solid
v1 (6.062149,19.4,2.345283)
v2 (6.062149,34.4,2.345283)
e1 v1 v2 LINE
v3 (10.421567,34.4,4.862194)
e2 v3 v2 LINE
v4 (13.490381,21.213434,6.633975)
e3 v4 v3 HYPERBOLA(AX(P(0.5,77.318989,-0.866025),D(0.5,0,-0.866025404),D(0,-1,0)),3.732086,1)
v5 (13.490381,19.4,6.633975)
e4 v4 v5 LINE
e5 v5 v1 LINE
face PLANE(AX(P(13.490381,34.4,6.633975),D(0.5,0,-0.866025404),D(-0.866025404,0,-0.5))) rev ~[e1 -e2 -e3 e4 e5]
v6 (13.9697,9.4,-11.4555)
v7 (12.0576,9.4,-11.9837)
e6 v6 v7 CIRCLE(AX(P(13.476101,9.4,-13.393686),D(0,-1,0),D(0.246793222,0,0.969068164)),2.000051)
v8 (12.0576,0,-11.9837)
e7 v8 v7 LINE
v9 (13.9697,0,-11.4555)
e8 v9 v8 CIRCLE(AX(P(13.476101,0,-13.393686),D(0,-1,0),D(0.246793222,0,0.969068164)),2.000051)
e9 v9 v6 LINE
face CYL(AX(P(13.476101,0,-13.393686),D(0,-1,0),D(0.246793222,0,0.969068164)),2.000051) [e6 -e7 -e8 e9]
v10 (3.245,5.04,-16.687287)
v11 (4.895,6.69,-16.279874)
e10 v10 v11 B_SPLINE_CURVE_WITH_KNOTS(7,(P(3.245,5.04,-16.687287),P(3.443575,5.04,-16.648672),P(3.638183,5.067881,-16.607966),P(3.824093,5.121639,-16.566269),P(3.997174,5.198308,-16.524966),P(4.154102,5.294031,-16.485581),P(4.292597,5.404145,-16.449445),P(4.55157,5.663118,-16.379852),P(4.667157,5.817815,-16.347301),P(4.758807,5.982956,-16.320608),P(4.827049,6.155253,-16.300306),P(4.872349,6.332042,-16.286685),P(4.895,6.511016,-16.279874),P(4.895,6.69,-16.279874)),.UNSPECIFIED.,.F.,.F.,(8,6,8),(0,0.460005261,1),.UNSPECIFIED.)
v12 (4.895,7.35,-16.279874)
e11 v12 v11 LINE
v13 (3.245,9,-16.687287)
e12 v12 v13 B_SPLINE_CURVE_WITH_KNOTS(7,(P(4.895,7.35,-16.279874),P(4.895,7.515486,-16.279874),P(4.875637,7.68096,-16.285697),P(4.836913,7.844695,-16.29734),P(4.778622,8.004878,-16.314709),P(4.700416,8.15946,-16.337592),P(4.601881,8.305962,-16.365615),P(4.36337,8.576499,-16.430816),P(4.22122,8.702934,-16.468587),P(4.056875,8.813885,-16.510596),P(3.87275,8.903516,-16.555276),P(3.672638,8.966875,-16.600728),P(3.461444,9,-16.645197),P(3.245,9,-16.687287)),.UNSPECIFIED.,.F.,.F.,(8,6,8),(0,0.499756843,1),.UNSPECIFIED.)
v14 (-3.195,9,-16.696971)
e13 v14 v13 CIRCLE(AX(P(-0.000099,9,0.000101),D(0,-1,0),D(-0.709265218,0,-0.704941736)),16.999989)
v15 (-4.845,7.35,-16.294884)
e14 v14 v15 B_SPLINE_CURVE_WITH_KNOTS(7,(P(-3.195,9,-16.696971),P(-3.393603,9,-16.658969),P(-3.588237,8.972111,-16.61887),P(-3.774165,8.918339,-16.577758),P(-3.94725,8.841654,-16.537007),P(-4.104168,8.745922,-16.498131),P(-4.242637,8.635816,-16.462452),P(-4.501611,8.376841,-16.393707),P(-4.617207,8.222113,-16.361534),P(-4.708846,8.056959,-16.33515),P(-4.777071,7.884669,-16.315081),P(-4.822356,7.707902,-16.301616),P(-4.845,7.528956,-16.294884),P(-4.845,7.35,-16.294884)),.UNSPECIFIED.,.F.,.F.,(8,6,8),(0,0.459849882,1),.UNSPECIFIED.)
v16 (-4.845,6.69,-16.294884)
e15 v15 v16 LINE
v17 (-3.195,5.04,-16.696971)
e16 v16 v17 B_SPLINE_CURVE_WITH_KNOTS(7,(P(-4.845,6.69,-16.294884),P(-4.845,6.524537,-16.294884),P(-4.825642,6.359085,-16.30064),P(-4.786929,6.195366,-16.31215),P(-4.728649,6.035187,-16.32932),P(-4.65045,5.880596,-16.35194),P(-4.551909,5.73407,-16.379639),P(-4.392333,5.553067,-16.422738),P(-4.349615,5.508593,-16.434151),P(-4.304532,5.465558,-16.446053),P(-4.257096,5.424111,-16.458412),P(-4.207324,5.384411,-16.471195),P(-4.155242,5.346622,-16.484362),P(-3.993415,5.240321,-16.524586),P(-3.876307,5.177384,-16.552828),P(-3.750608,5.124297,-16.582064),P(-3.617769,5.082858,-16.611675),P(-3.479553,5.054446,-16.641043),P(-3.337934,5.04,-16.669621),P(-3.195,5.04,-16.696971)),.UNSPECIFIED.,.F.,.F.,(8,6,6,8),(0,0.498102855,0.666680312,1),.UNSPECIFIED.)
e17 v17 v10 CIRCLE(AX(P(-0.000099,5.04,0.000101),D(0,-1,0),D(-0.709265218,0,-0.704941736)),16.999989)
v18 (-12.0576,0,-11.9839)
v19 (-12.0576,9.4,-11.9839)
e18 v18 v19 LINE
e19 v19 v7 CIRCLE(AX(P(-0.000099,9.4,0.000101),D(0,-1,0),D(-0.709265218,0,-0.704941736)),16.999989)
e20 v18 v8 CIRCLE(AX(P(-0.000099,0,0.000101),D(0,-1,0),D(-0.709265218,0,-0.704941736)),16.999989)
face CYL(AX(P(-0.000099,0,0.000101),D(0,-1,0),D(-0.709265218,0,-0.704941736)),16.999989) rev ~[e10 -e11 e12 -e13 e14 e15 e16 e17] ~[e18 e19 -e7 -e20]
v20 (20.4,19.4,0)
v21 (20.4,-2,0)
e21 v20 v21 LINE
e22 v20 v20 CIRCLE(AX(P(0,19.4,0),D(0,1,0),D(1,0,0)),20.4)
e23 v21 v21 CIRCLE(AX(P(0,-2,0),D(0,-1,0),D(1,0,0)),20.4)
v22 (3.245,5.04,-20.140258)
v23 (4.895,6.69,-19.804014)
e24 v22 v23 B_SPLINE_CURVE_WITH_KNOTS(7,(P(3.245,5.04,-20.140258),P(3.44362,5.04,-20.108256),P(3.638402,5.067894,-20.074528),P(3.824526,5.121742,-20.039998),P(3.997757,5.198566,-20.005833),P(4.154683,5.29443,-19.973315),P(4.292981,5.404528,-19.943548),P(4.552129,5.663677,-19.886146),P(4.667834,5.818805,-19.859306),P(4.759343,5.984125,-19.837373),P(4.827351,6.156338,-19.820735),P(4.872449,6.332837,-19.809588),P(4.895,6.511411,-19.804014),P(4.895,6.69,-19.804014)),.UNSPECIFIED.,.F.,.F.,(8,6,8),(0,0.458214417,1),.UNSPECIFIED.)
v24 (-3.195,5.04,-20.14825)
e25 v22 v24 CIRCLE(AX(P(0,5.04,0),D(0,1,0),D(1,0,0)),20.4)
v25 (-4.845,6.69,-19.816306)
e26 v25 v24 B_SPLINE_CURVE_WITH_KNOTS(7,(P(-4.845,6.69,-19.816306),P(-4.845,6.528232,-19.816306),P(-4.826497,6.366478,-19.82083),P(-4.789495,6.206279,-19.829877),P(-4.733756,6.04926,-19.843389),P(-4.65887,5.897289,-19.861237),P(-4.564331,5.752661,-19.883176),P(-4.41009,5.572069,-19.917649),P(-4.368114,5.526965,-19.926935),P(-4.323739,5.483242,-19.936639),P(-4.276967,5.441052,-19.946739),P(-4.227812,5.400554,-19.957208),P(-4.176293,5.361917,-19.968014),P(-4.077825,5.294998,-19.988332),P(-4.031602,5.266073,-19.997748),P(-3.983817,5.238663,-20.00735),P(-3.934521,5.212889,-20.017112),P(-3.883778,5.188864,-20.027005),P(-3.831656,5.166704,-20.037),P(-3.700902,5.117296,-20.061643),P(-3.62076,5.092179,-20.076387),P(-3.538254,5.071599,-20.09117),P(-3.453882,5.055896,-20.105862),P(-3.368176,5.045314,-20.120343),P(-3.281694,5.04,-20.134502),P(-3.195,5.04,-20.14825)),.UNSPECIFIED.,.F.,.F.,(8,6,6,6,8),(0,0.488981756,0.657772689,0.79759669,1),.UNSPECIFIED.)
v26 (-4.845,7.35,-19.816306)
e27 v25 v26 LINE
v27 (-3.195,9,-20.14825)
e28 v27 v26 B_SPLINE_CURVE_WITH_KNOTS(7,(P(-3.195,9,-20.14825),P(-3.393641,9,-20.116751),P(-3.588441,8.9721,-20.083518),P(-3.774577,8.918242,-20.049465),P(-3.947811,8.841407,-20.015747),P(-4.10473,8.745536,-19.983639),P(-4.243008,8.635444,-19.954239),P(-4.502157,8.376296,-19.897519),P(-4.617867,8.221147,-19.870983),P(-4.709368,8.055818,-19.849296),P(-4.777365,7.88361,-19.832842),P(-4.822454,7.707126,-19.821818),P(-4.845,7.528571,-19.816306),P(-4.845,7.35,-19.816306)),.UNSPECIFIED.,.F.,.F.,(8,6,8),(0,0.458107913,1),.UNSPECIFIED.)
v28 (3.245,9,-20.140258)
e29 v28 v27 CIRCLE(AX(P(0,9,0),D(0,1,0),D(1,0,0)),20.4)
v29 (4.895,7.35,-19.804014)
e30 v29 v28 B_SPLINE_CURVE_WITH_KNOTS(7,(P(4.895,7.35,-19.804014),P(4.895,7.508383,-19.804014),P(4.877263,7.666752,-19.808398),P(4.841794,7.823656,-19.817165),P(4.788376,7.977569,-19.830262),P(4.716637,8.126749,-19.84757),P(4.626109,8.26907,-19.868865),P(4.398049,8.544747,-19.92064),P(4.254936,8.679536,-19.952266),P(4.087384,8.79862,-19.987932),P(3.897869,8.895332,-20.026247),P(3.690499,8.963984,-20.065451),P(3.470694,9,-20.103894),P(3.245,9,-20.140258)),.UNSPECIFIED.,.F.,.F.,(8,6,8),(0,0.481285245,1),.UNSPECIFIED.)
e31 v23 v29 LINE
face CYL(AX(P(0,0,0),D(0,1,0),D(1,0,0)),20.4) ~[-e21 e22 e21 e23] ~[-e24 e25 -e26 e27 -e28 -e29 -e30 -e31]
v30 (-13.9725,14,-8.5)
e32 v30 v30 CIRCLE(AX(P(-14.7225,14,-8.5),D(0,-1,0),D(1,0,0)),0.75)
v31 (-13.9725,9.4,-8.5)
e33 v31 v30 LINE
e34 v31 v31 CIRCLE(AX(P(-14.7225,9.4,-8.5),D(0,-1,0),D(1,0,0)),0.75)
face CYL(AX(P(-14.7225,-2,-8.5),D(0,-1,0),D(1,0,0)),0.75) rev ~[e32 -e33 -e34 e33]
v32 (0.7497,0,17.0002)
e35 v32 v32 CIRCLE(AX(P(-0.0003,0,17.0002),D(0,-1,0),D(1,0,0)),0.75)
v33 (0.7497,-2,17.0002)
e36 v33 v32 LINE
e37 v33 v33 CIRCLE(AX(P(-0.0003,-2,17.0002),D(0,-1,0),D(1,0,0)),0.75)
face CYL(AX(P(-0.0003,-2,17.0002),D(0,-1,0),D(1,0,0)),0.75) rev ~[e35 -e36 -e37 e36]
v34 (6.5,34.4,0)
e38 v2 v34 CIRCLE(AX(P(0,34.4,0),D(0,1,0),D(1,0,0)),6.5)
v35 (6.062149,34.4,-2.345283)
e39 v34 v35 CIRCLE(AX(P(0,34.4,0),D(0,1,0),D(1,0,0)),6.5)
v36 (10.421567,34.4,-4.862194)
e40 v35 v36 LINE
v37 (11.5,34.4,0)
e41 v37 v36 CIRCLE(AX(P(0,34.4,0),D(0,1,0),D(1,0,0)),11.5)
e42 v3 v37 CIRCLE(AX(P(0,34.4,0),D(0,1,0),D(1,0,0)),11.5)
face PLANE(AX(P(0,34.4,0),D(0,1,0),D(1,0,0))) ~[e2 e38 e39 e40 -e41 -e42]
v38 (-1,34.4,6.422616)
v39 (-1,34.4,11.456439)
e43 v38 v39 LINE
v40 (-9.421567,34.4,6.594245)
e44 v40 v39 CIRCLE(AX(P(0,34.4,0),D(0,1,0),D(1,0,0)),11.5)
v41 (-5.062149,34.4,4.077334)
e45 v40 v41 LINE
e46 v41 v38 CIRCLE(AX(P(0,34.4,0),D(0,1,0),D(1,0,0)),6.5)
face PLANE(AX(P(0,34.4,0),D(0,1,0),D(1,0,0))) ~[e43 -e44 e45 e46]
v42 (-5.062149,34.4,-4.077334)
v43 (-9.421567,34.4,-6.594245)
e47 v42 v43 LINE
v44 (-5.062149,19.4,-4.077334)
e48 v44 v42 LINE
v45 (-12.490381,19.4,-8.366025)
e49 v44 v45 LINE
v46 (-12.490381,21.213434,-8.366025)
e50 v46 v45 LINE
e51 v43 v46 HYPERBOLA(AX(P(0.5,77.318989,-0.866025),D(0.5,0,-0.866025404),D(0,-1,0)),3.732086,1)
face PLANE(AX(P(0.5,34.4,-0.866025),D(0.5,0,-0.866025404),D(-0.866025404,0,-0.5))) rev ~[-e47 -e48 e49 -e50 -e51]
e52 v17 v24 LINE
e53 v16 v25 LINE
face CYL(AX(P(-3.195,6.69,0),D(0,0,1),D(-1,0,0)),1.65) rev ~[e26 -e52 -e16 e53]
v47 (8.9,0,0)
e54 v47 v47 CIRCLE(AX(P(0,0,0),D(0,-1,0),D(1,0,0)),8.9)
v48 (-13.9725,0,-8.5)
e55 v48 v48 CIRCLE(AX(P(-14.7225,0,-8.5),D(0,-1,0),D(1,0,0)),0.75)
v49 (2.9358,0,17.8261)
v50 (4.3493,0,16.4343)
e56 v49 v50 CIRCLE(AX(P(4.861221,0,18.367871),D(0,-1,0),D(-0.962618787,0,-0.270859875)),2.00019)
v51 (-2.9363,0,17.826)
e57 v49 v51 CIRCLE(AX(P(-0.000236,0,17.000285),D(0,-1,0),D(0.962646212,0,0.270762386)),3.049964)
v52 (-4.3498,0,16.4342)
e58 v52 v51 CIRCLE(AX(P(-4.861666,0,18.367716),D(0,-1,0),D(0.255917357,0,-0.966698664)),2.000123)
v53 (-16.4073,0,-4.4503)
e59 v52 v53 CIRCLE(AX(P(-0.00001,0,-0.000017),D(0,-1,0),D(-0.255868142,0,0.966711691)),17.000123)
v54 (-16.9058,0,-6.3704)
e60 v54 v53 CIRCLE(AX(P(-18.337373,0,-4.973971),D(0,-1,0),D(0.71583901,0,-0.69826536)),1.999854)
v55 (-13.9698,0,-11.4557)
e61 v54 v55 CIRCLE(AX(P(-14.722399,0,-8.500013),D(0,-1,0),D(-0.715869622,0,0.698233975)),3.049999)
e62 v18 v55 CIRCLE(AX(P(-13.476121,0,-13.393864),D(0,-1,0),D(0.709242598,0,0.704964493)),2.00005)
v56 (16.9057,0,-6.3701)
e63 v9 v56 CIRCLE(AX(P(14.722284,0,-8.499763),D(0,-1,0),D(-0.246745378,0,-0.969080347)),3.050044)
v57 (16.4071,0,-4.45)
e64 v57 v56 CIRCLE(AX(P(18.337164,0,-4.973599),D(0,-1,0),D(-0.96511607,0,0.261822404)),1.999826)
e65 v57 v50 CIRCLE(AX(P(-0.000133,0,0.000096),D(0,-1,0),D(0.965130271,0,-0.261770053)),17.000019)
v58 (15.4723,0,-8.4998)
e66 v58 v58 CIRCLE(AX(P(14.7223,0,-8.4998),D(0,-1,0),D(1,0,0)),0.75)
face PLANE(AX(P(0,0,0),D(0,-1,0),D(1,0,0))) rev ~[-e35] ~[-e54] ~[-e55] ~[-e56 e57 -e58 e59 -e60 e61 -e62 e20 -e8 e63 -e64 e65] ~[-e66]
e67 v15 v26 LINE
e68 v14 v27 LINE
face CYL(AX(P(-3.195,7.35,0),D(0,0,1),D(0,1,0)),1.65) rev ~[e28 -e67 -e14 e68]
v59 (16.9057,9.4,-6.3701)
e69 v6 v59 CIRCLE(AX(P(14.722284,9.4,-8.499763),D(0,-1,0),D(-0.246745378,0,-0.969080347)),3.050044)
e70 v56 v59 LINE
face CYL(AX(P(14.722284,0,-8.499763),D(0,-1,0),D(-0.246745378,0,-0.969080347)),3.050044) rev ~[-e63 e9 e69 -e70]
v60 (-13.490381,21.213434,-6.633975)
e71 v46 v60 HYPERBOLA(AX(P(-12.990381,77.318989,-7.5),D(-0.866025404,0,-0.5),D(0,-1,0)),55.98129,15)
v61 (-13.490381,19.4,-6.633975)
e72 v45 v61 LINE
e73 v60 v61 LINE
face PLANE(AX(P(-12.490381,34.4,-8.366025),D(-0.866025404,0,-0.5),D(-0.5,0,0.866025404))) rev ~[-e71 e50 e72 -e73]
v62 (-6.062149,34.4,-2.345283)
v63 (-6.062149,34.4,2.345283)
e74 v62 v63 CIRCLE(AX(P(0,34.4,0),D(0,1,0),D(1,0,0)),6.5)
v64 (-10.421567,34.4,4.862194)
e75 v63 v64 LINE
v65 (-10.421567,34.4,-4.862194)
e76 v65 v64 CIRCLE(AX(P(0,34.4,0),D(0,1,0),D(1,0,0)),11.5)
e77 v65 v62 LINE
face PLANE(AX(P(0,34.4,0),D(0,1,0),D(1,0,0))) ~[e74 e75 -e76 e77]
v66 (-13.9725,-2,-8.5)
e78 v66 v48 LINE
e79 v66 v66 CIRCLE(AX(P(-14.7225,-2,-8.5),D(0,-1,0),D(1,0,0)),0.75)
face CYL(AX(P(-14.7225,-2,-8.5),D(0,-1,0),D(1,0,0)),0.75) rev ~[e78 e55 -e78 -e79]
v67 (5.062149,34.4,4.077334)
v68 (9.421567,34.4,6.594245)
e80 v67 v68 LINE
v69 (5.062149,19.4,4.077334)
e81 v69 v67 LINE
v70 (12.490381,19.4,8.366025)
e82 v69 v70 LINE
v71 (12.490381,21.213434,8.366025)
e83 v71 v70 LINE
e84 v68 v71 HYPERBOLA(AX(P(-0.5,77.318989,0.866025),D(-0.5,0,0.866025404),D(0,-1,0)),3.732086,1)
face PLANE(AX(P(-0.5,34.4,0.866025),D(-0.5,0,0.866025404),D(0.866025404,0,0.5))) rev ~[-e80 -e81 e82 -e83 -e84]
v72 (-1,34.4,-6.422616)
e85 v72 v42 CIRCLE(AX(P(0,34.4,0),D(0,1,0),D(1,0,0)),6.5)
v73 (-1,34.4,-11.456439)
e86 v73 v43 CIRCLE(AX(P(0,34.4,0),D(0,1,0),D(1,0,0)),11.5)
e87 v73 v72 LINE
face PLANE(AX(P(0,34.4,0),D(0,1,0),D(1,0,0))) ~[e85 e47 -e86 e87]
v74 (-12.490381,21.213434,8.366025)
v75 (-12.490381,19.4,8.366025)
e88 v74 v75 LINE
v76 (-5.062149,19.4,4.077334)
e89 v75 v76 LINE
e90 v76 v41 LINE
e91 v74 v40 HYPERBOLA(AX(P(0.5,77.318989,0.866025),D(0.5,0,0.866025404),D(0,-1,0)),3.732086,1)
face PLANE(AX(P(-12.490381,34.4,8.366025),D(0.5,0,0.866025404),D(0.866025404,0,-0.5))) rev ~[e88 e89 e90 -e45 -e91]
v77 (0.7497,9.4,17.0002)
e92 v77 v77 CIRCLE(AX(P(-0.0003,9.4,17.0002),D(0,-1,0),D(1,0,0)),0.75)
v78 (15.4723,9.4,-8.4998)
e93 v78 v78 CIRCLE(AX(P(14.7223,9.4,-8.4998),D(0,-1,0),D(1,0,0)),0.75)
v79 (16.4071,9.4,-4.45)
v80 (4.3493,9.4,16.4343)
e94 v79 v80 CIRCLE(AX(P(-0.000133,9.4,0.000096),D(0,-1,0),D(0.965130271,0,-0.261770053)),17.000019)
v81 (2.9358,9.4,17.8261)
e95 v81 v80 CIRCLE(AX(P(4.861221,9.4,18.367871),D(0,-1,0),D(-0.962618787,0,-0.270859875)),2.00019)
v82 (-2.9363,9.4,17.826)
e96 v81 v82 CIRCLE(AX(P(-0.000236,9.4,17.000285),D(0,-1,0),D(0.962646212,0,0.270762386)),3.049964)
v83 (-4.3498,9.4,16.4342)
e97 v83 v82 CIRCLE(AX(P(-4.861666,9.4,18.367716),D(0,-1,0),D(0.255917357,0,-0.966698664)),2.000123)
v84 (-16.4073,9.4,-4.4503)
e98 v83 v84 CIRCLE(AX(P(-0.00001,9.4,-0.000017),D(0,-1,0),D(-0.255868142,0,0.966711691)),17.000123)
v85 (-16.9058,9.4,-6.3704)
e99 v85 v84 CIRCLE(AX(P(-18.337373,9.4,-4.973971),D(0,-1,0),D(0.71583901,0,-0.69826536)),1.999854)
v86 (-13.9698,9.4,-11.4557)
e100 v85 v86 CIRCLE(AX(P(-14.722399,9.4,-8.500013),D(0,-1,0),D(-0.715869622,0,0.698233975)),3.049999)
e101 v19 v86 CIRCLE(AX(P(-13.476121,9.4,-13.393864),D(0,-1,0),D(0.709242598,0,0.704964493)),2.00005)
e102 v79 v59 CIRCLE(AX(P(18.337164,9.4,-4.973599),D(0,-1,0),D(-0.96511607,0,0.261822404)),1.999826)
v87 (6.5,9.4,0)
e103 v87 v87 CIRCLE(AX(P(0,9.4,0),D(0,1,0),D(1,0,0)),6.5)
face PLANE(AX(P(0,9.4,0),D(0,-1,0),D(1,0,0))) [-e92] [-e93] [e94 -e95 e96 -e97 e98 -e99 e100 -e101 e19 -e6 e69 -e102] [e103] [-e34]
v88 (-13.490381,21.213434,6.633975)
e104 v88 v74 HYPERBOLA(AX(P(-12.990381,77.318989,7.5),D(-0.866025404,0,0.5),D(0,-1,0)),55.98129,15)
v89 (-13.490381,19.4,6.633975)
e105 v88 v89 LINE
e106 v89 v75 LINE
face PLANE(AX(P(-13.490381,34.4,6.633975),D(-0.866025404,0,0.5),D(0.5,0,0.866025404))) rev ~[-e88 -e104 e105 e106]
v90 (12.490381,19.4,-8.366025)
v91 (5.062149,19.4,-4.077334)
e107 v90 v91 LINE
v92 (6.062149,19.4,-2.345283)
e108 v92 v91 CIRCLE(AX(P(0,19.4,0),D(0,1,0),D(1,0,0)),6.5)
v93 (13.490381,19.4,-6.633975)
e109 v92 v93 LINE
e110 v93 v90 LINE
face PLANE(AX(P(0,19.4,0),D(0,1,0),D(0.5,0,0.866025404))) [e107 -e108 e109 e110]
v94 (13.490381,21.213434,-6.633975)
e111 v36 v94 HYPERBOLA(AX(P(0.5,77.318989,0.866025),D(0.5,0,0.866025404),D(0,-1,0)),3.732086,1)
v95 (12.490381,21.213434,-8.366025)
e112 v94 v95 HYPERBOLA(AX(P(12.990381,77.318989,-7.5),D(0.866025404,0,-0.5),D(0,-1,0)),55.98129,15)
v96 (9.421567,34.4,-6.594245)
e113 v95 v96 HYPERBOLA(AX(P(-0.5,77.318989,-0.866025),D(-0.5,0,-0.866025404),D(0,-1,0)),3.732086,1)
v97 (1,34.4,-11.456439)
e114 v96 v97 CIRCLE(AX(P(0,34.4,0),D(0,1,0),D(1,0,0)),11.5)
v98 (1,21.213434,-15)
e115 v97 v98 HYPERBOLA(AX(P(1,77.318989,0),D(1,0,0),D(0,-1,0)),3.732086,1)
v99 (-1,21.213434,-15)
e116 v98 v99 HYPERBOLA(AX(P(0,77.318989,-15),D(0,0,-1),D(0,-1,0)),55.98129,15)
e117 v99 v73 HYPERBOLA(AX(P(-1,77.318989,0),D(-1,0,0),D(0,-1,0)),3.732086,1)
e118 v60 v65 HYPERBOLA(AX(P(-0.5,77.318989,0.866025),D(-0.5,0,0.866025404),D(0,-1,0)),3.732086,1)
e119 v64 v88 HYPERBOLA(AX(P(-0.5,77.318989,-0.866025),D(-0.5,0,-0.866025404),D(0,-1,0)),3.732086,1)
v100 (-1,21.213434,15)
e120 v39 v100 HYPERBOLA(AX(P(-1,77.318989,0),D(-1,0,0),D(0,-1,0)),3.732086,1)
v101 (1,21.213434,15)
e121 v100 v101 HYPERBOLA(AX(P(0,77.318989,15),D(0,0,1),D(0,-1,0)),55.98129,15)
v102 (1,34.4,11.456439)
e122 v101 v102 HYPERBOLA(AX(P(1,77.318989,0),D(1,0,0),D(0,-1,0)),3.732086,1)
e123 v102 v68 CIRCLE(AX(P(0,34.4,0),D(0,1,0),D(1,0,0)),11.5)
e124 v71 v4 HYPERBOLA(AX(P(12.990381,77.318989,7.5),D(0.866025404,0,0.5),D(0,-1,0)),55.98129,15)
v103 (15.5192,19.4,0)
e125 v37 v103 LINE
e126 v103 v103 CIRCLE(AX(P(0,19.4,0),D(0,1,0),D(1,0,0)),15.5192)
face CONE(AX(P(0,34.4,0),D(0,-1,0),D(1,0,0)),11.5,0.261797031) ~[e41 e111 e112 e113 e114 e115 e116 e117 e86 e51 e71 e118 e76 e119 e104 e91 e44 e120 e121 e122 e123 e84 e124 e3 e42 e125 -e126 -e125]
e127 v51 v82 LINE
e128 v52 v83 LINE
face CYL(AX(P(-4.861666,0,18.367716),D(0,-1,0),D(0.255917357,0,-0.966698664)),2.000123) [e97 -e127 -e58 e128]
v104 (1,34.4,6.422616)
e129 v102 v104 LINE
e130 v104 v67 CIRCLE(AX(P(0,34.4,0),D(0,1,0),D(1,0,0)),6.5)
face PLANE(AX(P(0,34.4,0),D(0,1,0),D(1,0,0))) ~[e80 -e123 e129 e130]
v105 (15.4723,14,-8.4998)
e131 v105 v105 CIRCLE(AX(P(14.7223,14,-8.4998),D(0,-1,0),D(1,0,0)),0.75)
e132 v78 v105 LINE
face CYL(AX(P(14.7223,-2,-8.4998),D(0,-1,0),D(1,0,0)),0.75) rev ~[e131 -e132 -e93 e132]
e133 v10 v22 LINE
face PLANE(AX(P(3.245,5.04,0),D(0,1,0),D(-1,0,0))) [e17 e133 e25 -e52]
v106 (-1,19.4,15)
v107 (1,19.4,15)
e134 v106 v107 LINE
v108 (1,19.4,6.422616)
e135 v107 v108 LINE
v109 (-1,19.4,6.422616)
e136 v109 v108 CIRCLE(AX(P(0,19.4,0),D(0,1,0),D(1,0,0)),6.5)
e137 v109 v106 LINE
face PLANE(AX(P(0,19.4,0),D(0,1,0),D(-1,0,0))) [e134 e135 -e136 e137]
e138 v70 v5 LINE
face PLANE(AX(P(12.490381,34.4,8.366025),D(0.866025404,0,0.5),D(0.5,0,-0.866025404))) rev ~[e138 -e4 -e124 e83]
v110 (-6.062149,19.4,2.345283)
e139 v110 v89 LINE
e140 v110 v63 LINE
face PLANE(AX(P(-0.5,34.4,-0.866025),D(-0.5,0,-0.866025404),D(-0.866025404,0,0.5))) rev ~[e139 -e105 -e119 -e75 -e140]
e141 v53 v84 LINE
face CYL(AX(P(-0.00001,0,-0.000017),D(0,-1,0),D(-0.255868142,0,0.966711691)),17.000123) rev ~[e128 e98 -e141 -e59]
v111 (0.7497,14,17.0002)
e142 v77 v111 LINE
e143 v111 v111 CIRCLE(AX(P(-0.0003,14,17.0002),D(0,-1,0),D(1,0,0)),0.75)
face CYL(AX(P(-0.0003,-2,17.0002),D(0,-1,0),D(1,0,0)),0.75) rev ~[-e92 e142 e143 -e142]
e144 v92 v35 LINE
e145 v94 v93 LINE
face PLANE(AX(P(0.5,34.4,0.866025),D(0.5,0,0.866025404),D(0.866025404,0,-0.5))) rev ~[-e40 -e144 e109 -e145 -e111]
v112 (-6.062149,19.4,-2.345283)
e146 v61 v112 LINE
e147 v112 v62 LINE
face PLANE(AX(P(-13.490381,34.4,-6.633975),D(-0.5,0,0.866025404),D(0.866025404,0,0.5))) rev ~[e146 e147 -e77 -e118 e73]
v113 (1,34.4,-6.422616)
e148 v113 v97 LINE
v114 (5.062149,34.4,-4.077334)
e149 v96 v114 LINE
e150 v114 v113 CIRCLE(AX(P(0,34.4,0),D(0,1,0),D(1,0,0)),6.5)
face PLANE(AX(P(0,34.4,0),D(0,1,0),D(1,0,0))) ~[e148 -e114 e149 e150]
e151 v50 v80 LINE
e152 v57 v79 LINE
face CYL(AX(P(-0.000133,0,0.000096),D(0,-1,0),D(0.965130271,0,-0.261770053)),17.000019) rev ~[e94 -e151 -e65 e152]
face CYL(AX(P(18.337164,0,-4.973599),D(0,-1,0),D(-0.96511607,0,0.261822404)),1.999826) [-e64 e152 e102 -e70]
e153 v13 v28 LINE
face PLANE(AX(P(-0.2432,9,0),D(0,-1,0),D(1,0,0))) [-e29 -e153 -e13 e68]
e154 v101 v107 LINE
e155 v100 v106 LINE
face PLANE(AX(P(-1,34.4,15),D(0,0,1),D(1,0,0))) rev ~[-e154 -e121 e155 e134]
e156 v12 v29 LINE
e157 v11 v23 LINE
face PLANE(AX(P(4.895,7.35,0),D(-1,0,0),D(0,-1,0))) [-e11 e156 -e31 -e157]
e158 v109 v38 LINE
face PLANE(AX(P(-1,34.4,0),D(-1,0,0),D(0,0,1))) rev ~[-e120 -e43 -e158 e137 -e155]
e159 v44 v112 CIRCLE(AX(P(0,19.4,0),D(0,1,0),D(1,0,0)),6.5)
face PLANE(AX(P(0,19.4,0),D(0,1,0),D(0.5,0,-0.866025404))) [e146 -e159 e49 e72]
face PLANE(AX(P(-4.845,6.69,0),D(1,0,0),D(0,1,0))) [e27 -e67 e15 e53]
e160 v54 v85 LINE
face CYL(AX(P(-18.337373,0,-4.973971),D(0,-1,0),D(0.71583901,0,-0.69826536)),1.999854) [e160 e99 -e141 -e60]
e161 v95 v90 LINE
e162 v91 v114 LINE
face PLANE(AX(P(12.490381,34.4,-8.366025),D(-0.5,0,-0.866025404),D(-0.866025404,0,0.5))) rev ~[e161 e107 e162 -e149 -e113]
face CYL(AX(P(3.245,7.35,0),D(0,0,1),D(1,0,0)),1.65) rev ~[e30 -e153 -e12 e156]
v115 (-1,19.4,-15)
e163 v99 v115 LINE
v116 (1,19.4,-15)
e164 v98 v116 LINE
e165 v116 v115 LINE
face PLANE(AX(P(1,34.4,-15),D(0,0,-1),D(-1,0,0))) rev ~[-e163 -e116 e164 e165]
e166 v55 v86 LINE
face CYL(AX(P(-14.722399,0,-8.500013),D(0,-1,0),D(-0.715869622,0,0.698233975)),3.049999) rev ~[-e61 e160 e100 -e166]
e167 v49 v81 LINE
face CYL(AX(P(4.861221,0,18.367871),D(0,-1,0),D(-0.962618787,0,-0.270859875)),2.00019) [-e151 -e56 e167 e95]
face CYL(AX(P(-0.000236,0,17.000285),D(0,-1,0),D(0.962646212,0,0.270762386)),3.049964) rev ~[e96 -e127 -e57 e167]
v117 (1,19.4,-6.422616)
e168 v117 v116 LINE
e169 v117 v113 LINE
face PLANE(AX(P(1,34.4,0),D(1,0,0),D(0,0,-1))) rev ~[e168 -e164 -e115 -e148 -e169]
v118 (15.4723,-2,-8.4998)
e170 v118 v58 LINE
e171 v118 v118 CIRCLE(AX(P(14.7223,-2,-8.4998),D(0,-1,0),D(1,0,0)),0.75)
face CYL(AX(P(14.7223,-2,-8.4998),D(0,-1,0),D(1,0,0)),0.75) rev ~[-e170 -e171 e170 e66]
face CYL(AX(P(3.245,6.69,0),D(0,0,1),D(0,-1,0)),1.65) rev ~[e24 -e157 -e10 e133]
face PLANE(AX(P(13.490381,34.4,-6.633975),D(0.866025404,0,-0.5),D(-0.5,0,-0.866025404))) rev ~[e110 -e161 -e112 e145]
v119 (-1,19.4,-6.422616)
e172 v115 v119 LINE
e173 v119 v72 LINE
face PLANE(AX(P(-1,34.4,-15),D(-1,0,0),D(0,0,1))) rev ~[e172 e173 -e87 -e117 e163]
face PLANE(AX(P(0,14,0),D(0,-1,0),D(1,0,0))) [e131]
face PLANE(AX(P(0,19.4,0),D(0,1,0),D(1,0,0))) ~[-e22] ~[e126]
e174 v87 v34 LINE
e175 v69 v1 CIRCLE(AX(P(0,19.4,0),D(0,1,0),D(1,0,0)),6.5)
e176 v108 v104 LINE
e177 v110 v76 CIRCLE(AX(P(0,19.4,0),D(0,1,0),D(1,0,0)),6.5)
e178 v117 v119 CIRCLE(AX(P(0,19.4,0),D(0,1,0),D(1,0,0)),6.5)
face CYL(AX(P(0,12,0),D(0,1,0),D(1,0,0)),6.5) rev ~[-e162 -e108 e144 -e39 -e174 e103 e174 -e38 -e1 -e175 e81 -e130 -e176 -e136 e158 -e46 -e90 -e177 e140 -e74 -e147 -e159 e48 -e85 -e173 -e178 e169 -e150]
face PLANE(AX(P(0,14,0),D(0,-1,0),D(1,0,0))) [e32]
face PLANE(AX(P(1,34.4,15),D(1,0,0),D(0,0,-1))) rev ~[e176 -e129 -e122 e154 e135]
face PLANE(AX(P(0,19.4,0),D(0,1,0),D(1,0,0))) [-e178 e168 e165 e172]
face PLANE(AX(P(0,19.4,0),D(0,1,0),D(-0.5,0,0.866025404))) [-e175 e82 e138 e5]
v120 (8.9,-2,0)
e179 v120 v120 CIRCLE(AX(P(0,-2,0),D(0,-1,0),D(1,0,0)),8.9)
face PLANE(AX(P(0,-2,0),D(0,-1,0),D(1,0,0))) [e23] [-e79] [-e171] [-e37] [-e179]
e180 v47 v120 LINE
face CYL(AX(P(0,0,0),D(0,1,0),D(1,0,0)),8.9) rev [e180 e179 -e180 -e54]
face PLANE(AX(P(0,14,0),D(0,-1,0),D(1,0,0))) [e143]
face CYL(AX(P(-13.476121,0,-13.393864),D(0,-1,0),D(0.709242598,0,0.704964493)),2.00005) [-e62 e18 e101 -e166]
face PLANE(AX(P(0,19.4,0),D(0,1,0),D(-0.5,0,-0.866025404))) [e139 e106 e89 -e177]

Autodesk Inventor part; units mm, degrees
ref_plane "YZ Plane" through (0, 0, 0) normal (1, 0, 0) x (0, 1, 0)
ref_plane "XZ Plane" through (0, 0, 0) normal (0, 1, 0) x (-1, 0, 0)
ref_plane "XY Plane" through (0, 0, 0) normal (0, 0, 1) x (1, 0, 0)
sketch "Эскиз1" plane through (0, 0, 0) normal (0, 0, 1) x (1, 0, 0)
  line L0 (17, 0) -> (17, 0)
  line L1 (6.5, 12) -> (6.5, 19.4)
  line L2 (6.5, 19.4) -> (20.4, 19.4)
  line L3 (20.4, 19.4) -> (20.4, 0)
  line L4 (0, 0) -> (0, 10)
  line L5 (17, 0) -> (17, 0)
  line L6 (6.5, 19.4) -> (6.5, 34.4)
  line L7 (6.5, 34.4) -> (11.5, 34.4)
  line L8 (11.5, 34.4) -> (15.5192, 19.4)
  line L9 (6.5, 12) -> (6.5, 0)
  line L10 (6.5, 0) -> (20.4, 0)
  point P0 (6.5, 10)
  dimension "d2" = 10
  dimension "d18" = 13
  dimension "d20" = 5
  dimension "d21" = 75
  dimension "d22" = 15
  dimension "d30" = 40.8
  dimension "d31" = 19.4
revolve "Вращение1" add sketch "Эскиз1" angle 360 about axis through (0, 0, 0) along (0, 1, 0)
sketch "Эскиз3" plane through (0, 34.4, 0) normal (0, 1, 0) x (1, 0, 0)
  line L0 (-1, 0) -> (1, 0)
  line L1 (1, 0) -> (1, 15)
  line L2 (1, 15) -> (-1, 15)
  line L3 (-1, 15) -> (-1, 0)
  point P0 (0, 0)
  point P1 (0, 0)
  dimension "d23" = 2
  dimension "d24" = 15
extrude "Выдавливание2" cut sketch "Эскиз3" against normal up to surface (15 mm away)
pattern_circular "Круговой массив2" count 6 over 360 about axis through (0, -10, 0) along (0, 1, 0) of "Выдавливание2"
sketch "Эскиз4" plane through (0, 0, 0) normal (0, -1, 0) x (1, 0, 0)
  arc A0 (-4.3498, 16.4342) -> (-16.4073, -4.4503) centre (-0.0001, 0.0001) ccw projected
  arc A1 (16.4071, -4.45) -> (4.3493, 16.4343) centre (-0.0001, 0.0001) ccw projected
  arc A2 (2.9358, 17.8261) -> (4.3493, 16.4343) centre (4.8611, 18.3678) ccw projected
  arc A3 (2.9358, 17.8261) -> (-2.9363, 17.826) centre (-0.0003, 17.0002) ccw projected
  arc A4 (-4.3498, 16.4342) -> (-2.9363, 17.826) centre (-4.8616, 18.3676) ccw projected
  arc A5 (-16.9058, -6.3704) -> (-16.4073, -4.4503) centre (-18.3375, -4.9739) ccw projected
  arc A6 (-16.9058, -6.3704) -> (-13.9698, -11.4557) centre (-14.7225, -8.5) ccw projected
  arc A7 (-12.0576, -11.9839) -> (-13.9698, -11.4557) centre (-13.4762, -13.394) ccw projected
  arc A8 (-12.0576, -11.9839) -> (12.0576, -11.9837) centre (-0.0001, 0.0001) ccw projected
  arc A9 (13.9697, -11.4555) -> (12.0576, -11.9837) centre (13.4761, -13.3936) ccw projected
  arc A10 (13.9697, -11.4555) -> (16.9057, -6.3701) centre (14.7223, -8.4998) ccw projected
  arc A11 (16.4071, -4.45) -> (16.9057, -6.3701) centre (18.3373, -4.9736) ccw projected
extrude "Выдавливание3" cut sketch "Эскиз4" against normal blind 9.4
sketch "Эскиз5" plane through (0, 0, 0) normal (0, -1, 0) x (1, 0, 0)
  circle A0 centre (0, 0) radius 8.5 projected
  circle A1 centre (0, 0) radius 20.4 projected
  circle A2 centre (0, 0) radius 8.9
  dimension "d34" = 17.8
extrude "Выдавливание4" add sketch "Эскиз5" along normal blind 2 contours A1
sketch "Эскиз6" plane through (0, 0, 0) normal (0, 0, 1) x (1, 0, 0)
  arc A0 (-4.445, 6.69) -> (-3.195, 5.44) centre (-3.195, 6.69) ccw projected
  line L0 (-4.445, 6.69) -> (-4.445, 7.35) projected
  arc A1 (-3.195, 8.6) -> (-4.445, 7.35) centre (-3.195, 7.35) ccw projected
  line L1 (-0.2632, 8.6) -> (-3.195, 8.6) projected
  line L2 (3.245, 8.6) -> (-0.2432, 8.6) projected
  arc A2 (4.495, 7.35) -> (3.245, 8.6) centre (3.245, 7.35) ccw projected
  line L3 (4.495, 6.69) -> (4.495, 7.35) projected
  arc A3 (3.245, 5.44) -> (4.495, 6.69) centre (3.245, 6.69) ccw projected
  line L4 (-0.0106, 8.6) -> (-0.2632, 8.6) projected
  line L5 (-3.195, 5.44) -> (3.245, 5.44) projected
  line L6 (-0.2432, 9) -> (3.245, 9)
  arc A4 (4.895, 7.35) -> (3.245, 9) centre (3.245, 7.35) ccw
  line L7 (4.895, 7.35) -> (4.895, 6.69)
  arc A5 (3.245, 5.04) -> (4.895, 6.69) centre (3.245, 6.69) ccw
  line L8 (3.245, 5.04) -> (-3.195, 5.04)
  arc A6 (-4.845, 6.69) -> (-3.195, 5.04) centre (-3.195, 6.69) ccw
  line L9 (-4.845, 6.69) -> (-4.845, 7.35)
  arc A7 (-3.195, 9) -> (-4.845, 7.35) centre (-3.195, 7.35) ccw
  line L10 (-3.195, 9) -> (-0.2632, 9)
  line L11 (-0.2432, 9) -> (-0.2632, 9)
  point P0 (0, 0)
  dimension "d37" = 1.65
  dimension "d38" = 90
  dimension "d39" = 1.65
  dimension "d42" = 4.7582
extrude "Выдавливание5" cut sketch "Эскиз6" against normal through all contours L0 A1 L1 L4 L2 A2 L3 A3 L5 A0 | L6 A4 L7 A5 L8 A6 L9 A7 L10 L11
sketch "Эскиз7" plane through (0, -2, 0) normal (0, -1, 0) x (1, 0, 0)
  arc A0 (-10.8652, -13.0746) -> (10.8651, -13.0746) centre (0, 0.0001) ccw construction
  circle A1 centre (-0.0003, 17.0002) radius 1.05 projected
  circle A2 centre (14.7223, -8.4998) radius 1.05 projected
  circle A3 centre (-14.7225, -8.5) radius 1.05 projected
  circle A4 centre (-0.0003, 17.0002) radius 0.75
  circle A5 centre (14.7223, -8.4998) radius 0.75
  circle A6 centre (-14.7225, -8.5) radius 0.75
  dimension "d57" = 1.5
  dimension "d58" = 1.5
  dimension "d59" = 1.5
extrude "Выдавливание6" cut sketch "Эскиз7" against normal blind 16 contours A4 | A5 | A6
properties part number "Цанга_держатель"
